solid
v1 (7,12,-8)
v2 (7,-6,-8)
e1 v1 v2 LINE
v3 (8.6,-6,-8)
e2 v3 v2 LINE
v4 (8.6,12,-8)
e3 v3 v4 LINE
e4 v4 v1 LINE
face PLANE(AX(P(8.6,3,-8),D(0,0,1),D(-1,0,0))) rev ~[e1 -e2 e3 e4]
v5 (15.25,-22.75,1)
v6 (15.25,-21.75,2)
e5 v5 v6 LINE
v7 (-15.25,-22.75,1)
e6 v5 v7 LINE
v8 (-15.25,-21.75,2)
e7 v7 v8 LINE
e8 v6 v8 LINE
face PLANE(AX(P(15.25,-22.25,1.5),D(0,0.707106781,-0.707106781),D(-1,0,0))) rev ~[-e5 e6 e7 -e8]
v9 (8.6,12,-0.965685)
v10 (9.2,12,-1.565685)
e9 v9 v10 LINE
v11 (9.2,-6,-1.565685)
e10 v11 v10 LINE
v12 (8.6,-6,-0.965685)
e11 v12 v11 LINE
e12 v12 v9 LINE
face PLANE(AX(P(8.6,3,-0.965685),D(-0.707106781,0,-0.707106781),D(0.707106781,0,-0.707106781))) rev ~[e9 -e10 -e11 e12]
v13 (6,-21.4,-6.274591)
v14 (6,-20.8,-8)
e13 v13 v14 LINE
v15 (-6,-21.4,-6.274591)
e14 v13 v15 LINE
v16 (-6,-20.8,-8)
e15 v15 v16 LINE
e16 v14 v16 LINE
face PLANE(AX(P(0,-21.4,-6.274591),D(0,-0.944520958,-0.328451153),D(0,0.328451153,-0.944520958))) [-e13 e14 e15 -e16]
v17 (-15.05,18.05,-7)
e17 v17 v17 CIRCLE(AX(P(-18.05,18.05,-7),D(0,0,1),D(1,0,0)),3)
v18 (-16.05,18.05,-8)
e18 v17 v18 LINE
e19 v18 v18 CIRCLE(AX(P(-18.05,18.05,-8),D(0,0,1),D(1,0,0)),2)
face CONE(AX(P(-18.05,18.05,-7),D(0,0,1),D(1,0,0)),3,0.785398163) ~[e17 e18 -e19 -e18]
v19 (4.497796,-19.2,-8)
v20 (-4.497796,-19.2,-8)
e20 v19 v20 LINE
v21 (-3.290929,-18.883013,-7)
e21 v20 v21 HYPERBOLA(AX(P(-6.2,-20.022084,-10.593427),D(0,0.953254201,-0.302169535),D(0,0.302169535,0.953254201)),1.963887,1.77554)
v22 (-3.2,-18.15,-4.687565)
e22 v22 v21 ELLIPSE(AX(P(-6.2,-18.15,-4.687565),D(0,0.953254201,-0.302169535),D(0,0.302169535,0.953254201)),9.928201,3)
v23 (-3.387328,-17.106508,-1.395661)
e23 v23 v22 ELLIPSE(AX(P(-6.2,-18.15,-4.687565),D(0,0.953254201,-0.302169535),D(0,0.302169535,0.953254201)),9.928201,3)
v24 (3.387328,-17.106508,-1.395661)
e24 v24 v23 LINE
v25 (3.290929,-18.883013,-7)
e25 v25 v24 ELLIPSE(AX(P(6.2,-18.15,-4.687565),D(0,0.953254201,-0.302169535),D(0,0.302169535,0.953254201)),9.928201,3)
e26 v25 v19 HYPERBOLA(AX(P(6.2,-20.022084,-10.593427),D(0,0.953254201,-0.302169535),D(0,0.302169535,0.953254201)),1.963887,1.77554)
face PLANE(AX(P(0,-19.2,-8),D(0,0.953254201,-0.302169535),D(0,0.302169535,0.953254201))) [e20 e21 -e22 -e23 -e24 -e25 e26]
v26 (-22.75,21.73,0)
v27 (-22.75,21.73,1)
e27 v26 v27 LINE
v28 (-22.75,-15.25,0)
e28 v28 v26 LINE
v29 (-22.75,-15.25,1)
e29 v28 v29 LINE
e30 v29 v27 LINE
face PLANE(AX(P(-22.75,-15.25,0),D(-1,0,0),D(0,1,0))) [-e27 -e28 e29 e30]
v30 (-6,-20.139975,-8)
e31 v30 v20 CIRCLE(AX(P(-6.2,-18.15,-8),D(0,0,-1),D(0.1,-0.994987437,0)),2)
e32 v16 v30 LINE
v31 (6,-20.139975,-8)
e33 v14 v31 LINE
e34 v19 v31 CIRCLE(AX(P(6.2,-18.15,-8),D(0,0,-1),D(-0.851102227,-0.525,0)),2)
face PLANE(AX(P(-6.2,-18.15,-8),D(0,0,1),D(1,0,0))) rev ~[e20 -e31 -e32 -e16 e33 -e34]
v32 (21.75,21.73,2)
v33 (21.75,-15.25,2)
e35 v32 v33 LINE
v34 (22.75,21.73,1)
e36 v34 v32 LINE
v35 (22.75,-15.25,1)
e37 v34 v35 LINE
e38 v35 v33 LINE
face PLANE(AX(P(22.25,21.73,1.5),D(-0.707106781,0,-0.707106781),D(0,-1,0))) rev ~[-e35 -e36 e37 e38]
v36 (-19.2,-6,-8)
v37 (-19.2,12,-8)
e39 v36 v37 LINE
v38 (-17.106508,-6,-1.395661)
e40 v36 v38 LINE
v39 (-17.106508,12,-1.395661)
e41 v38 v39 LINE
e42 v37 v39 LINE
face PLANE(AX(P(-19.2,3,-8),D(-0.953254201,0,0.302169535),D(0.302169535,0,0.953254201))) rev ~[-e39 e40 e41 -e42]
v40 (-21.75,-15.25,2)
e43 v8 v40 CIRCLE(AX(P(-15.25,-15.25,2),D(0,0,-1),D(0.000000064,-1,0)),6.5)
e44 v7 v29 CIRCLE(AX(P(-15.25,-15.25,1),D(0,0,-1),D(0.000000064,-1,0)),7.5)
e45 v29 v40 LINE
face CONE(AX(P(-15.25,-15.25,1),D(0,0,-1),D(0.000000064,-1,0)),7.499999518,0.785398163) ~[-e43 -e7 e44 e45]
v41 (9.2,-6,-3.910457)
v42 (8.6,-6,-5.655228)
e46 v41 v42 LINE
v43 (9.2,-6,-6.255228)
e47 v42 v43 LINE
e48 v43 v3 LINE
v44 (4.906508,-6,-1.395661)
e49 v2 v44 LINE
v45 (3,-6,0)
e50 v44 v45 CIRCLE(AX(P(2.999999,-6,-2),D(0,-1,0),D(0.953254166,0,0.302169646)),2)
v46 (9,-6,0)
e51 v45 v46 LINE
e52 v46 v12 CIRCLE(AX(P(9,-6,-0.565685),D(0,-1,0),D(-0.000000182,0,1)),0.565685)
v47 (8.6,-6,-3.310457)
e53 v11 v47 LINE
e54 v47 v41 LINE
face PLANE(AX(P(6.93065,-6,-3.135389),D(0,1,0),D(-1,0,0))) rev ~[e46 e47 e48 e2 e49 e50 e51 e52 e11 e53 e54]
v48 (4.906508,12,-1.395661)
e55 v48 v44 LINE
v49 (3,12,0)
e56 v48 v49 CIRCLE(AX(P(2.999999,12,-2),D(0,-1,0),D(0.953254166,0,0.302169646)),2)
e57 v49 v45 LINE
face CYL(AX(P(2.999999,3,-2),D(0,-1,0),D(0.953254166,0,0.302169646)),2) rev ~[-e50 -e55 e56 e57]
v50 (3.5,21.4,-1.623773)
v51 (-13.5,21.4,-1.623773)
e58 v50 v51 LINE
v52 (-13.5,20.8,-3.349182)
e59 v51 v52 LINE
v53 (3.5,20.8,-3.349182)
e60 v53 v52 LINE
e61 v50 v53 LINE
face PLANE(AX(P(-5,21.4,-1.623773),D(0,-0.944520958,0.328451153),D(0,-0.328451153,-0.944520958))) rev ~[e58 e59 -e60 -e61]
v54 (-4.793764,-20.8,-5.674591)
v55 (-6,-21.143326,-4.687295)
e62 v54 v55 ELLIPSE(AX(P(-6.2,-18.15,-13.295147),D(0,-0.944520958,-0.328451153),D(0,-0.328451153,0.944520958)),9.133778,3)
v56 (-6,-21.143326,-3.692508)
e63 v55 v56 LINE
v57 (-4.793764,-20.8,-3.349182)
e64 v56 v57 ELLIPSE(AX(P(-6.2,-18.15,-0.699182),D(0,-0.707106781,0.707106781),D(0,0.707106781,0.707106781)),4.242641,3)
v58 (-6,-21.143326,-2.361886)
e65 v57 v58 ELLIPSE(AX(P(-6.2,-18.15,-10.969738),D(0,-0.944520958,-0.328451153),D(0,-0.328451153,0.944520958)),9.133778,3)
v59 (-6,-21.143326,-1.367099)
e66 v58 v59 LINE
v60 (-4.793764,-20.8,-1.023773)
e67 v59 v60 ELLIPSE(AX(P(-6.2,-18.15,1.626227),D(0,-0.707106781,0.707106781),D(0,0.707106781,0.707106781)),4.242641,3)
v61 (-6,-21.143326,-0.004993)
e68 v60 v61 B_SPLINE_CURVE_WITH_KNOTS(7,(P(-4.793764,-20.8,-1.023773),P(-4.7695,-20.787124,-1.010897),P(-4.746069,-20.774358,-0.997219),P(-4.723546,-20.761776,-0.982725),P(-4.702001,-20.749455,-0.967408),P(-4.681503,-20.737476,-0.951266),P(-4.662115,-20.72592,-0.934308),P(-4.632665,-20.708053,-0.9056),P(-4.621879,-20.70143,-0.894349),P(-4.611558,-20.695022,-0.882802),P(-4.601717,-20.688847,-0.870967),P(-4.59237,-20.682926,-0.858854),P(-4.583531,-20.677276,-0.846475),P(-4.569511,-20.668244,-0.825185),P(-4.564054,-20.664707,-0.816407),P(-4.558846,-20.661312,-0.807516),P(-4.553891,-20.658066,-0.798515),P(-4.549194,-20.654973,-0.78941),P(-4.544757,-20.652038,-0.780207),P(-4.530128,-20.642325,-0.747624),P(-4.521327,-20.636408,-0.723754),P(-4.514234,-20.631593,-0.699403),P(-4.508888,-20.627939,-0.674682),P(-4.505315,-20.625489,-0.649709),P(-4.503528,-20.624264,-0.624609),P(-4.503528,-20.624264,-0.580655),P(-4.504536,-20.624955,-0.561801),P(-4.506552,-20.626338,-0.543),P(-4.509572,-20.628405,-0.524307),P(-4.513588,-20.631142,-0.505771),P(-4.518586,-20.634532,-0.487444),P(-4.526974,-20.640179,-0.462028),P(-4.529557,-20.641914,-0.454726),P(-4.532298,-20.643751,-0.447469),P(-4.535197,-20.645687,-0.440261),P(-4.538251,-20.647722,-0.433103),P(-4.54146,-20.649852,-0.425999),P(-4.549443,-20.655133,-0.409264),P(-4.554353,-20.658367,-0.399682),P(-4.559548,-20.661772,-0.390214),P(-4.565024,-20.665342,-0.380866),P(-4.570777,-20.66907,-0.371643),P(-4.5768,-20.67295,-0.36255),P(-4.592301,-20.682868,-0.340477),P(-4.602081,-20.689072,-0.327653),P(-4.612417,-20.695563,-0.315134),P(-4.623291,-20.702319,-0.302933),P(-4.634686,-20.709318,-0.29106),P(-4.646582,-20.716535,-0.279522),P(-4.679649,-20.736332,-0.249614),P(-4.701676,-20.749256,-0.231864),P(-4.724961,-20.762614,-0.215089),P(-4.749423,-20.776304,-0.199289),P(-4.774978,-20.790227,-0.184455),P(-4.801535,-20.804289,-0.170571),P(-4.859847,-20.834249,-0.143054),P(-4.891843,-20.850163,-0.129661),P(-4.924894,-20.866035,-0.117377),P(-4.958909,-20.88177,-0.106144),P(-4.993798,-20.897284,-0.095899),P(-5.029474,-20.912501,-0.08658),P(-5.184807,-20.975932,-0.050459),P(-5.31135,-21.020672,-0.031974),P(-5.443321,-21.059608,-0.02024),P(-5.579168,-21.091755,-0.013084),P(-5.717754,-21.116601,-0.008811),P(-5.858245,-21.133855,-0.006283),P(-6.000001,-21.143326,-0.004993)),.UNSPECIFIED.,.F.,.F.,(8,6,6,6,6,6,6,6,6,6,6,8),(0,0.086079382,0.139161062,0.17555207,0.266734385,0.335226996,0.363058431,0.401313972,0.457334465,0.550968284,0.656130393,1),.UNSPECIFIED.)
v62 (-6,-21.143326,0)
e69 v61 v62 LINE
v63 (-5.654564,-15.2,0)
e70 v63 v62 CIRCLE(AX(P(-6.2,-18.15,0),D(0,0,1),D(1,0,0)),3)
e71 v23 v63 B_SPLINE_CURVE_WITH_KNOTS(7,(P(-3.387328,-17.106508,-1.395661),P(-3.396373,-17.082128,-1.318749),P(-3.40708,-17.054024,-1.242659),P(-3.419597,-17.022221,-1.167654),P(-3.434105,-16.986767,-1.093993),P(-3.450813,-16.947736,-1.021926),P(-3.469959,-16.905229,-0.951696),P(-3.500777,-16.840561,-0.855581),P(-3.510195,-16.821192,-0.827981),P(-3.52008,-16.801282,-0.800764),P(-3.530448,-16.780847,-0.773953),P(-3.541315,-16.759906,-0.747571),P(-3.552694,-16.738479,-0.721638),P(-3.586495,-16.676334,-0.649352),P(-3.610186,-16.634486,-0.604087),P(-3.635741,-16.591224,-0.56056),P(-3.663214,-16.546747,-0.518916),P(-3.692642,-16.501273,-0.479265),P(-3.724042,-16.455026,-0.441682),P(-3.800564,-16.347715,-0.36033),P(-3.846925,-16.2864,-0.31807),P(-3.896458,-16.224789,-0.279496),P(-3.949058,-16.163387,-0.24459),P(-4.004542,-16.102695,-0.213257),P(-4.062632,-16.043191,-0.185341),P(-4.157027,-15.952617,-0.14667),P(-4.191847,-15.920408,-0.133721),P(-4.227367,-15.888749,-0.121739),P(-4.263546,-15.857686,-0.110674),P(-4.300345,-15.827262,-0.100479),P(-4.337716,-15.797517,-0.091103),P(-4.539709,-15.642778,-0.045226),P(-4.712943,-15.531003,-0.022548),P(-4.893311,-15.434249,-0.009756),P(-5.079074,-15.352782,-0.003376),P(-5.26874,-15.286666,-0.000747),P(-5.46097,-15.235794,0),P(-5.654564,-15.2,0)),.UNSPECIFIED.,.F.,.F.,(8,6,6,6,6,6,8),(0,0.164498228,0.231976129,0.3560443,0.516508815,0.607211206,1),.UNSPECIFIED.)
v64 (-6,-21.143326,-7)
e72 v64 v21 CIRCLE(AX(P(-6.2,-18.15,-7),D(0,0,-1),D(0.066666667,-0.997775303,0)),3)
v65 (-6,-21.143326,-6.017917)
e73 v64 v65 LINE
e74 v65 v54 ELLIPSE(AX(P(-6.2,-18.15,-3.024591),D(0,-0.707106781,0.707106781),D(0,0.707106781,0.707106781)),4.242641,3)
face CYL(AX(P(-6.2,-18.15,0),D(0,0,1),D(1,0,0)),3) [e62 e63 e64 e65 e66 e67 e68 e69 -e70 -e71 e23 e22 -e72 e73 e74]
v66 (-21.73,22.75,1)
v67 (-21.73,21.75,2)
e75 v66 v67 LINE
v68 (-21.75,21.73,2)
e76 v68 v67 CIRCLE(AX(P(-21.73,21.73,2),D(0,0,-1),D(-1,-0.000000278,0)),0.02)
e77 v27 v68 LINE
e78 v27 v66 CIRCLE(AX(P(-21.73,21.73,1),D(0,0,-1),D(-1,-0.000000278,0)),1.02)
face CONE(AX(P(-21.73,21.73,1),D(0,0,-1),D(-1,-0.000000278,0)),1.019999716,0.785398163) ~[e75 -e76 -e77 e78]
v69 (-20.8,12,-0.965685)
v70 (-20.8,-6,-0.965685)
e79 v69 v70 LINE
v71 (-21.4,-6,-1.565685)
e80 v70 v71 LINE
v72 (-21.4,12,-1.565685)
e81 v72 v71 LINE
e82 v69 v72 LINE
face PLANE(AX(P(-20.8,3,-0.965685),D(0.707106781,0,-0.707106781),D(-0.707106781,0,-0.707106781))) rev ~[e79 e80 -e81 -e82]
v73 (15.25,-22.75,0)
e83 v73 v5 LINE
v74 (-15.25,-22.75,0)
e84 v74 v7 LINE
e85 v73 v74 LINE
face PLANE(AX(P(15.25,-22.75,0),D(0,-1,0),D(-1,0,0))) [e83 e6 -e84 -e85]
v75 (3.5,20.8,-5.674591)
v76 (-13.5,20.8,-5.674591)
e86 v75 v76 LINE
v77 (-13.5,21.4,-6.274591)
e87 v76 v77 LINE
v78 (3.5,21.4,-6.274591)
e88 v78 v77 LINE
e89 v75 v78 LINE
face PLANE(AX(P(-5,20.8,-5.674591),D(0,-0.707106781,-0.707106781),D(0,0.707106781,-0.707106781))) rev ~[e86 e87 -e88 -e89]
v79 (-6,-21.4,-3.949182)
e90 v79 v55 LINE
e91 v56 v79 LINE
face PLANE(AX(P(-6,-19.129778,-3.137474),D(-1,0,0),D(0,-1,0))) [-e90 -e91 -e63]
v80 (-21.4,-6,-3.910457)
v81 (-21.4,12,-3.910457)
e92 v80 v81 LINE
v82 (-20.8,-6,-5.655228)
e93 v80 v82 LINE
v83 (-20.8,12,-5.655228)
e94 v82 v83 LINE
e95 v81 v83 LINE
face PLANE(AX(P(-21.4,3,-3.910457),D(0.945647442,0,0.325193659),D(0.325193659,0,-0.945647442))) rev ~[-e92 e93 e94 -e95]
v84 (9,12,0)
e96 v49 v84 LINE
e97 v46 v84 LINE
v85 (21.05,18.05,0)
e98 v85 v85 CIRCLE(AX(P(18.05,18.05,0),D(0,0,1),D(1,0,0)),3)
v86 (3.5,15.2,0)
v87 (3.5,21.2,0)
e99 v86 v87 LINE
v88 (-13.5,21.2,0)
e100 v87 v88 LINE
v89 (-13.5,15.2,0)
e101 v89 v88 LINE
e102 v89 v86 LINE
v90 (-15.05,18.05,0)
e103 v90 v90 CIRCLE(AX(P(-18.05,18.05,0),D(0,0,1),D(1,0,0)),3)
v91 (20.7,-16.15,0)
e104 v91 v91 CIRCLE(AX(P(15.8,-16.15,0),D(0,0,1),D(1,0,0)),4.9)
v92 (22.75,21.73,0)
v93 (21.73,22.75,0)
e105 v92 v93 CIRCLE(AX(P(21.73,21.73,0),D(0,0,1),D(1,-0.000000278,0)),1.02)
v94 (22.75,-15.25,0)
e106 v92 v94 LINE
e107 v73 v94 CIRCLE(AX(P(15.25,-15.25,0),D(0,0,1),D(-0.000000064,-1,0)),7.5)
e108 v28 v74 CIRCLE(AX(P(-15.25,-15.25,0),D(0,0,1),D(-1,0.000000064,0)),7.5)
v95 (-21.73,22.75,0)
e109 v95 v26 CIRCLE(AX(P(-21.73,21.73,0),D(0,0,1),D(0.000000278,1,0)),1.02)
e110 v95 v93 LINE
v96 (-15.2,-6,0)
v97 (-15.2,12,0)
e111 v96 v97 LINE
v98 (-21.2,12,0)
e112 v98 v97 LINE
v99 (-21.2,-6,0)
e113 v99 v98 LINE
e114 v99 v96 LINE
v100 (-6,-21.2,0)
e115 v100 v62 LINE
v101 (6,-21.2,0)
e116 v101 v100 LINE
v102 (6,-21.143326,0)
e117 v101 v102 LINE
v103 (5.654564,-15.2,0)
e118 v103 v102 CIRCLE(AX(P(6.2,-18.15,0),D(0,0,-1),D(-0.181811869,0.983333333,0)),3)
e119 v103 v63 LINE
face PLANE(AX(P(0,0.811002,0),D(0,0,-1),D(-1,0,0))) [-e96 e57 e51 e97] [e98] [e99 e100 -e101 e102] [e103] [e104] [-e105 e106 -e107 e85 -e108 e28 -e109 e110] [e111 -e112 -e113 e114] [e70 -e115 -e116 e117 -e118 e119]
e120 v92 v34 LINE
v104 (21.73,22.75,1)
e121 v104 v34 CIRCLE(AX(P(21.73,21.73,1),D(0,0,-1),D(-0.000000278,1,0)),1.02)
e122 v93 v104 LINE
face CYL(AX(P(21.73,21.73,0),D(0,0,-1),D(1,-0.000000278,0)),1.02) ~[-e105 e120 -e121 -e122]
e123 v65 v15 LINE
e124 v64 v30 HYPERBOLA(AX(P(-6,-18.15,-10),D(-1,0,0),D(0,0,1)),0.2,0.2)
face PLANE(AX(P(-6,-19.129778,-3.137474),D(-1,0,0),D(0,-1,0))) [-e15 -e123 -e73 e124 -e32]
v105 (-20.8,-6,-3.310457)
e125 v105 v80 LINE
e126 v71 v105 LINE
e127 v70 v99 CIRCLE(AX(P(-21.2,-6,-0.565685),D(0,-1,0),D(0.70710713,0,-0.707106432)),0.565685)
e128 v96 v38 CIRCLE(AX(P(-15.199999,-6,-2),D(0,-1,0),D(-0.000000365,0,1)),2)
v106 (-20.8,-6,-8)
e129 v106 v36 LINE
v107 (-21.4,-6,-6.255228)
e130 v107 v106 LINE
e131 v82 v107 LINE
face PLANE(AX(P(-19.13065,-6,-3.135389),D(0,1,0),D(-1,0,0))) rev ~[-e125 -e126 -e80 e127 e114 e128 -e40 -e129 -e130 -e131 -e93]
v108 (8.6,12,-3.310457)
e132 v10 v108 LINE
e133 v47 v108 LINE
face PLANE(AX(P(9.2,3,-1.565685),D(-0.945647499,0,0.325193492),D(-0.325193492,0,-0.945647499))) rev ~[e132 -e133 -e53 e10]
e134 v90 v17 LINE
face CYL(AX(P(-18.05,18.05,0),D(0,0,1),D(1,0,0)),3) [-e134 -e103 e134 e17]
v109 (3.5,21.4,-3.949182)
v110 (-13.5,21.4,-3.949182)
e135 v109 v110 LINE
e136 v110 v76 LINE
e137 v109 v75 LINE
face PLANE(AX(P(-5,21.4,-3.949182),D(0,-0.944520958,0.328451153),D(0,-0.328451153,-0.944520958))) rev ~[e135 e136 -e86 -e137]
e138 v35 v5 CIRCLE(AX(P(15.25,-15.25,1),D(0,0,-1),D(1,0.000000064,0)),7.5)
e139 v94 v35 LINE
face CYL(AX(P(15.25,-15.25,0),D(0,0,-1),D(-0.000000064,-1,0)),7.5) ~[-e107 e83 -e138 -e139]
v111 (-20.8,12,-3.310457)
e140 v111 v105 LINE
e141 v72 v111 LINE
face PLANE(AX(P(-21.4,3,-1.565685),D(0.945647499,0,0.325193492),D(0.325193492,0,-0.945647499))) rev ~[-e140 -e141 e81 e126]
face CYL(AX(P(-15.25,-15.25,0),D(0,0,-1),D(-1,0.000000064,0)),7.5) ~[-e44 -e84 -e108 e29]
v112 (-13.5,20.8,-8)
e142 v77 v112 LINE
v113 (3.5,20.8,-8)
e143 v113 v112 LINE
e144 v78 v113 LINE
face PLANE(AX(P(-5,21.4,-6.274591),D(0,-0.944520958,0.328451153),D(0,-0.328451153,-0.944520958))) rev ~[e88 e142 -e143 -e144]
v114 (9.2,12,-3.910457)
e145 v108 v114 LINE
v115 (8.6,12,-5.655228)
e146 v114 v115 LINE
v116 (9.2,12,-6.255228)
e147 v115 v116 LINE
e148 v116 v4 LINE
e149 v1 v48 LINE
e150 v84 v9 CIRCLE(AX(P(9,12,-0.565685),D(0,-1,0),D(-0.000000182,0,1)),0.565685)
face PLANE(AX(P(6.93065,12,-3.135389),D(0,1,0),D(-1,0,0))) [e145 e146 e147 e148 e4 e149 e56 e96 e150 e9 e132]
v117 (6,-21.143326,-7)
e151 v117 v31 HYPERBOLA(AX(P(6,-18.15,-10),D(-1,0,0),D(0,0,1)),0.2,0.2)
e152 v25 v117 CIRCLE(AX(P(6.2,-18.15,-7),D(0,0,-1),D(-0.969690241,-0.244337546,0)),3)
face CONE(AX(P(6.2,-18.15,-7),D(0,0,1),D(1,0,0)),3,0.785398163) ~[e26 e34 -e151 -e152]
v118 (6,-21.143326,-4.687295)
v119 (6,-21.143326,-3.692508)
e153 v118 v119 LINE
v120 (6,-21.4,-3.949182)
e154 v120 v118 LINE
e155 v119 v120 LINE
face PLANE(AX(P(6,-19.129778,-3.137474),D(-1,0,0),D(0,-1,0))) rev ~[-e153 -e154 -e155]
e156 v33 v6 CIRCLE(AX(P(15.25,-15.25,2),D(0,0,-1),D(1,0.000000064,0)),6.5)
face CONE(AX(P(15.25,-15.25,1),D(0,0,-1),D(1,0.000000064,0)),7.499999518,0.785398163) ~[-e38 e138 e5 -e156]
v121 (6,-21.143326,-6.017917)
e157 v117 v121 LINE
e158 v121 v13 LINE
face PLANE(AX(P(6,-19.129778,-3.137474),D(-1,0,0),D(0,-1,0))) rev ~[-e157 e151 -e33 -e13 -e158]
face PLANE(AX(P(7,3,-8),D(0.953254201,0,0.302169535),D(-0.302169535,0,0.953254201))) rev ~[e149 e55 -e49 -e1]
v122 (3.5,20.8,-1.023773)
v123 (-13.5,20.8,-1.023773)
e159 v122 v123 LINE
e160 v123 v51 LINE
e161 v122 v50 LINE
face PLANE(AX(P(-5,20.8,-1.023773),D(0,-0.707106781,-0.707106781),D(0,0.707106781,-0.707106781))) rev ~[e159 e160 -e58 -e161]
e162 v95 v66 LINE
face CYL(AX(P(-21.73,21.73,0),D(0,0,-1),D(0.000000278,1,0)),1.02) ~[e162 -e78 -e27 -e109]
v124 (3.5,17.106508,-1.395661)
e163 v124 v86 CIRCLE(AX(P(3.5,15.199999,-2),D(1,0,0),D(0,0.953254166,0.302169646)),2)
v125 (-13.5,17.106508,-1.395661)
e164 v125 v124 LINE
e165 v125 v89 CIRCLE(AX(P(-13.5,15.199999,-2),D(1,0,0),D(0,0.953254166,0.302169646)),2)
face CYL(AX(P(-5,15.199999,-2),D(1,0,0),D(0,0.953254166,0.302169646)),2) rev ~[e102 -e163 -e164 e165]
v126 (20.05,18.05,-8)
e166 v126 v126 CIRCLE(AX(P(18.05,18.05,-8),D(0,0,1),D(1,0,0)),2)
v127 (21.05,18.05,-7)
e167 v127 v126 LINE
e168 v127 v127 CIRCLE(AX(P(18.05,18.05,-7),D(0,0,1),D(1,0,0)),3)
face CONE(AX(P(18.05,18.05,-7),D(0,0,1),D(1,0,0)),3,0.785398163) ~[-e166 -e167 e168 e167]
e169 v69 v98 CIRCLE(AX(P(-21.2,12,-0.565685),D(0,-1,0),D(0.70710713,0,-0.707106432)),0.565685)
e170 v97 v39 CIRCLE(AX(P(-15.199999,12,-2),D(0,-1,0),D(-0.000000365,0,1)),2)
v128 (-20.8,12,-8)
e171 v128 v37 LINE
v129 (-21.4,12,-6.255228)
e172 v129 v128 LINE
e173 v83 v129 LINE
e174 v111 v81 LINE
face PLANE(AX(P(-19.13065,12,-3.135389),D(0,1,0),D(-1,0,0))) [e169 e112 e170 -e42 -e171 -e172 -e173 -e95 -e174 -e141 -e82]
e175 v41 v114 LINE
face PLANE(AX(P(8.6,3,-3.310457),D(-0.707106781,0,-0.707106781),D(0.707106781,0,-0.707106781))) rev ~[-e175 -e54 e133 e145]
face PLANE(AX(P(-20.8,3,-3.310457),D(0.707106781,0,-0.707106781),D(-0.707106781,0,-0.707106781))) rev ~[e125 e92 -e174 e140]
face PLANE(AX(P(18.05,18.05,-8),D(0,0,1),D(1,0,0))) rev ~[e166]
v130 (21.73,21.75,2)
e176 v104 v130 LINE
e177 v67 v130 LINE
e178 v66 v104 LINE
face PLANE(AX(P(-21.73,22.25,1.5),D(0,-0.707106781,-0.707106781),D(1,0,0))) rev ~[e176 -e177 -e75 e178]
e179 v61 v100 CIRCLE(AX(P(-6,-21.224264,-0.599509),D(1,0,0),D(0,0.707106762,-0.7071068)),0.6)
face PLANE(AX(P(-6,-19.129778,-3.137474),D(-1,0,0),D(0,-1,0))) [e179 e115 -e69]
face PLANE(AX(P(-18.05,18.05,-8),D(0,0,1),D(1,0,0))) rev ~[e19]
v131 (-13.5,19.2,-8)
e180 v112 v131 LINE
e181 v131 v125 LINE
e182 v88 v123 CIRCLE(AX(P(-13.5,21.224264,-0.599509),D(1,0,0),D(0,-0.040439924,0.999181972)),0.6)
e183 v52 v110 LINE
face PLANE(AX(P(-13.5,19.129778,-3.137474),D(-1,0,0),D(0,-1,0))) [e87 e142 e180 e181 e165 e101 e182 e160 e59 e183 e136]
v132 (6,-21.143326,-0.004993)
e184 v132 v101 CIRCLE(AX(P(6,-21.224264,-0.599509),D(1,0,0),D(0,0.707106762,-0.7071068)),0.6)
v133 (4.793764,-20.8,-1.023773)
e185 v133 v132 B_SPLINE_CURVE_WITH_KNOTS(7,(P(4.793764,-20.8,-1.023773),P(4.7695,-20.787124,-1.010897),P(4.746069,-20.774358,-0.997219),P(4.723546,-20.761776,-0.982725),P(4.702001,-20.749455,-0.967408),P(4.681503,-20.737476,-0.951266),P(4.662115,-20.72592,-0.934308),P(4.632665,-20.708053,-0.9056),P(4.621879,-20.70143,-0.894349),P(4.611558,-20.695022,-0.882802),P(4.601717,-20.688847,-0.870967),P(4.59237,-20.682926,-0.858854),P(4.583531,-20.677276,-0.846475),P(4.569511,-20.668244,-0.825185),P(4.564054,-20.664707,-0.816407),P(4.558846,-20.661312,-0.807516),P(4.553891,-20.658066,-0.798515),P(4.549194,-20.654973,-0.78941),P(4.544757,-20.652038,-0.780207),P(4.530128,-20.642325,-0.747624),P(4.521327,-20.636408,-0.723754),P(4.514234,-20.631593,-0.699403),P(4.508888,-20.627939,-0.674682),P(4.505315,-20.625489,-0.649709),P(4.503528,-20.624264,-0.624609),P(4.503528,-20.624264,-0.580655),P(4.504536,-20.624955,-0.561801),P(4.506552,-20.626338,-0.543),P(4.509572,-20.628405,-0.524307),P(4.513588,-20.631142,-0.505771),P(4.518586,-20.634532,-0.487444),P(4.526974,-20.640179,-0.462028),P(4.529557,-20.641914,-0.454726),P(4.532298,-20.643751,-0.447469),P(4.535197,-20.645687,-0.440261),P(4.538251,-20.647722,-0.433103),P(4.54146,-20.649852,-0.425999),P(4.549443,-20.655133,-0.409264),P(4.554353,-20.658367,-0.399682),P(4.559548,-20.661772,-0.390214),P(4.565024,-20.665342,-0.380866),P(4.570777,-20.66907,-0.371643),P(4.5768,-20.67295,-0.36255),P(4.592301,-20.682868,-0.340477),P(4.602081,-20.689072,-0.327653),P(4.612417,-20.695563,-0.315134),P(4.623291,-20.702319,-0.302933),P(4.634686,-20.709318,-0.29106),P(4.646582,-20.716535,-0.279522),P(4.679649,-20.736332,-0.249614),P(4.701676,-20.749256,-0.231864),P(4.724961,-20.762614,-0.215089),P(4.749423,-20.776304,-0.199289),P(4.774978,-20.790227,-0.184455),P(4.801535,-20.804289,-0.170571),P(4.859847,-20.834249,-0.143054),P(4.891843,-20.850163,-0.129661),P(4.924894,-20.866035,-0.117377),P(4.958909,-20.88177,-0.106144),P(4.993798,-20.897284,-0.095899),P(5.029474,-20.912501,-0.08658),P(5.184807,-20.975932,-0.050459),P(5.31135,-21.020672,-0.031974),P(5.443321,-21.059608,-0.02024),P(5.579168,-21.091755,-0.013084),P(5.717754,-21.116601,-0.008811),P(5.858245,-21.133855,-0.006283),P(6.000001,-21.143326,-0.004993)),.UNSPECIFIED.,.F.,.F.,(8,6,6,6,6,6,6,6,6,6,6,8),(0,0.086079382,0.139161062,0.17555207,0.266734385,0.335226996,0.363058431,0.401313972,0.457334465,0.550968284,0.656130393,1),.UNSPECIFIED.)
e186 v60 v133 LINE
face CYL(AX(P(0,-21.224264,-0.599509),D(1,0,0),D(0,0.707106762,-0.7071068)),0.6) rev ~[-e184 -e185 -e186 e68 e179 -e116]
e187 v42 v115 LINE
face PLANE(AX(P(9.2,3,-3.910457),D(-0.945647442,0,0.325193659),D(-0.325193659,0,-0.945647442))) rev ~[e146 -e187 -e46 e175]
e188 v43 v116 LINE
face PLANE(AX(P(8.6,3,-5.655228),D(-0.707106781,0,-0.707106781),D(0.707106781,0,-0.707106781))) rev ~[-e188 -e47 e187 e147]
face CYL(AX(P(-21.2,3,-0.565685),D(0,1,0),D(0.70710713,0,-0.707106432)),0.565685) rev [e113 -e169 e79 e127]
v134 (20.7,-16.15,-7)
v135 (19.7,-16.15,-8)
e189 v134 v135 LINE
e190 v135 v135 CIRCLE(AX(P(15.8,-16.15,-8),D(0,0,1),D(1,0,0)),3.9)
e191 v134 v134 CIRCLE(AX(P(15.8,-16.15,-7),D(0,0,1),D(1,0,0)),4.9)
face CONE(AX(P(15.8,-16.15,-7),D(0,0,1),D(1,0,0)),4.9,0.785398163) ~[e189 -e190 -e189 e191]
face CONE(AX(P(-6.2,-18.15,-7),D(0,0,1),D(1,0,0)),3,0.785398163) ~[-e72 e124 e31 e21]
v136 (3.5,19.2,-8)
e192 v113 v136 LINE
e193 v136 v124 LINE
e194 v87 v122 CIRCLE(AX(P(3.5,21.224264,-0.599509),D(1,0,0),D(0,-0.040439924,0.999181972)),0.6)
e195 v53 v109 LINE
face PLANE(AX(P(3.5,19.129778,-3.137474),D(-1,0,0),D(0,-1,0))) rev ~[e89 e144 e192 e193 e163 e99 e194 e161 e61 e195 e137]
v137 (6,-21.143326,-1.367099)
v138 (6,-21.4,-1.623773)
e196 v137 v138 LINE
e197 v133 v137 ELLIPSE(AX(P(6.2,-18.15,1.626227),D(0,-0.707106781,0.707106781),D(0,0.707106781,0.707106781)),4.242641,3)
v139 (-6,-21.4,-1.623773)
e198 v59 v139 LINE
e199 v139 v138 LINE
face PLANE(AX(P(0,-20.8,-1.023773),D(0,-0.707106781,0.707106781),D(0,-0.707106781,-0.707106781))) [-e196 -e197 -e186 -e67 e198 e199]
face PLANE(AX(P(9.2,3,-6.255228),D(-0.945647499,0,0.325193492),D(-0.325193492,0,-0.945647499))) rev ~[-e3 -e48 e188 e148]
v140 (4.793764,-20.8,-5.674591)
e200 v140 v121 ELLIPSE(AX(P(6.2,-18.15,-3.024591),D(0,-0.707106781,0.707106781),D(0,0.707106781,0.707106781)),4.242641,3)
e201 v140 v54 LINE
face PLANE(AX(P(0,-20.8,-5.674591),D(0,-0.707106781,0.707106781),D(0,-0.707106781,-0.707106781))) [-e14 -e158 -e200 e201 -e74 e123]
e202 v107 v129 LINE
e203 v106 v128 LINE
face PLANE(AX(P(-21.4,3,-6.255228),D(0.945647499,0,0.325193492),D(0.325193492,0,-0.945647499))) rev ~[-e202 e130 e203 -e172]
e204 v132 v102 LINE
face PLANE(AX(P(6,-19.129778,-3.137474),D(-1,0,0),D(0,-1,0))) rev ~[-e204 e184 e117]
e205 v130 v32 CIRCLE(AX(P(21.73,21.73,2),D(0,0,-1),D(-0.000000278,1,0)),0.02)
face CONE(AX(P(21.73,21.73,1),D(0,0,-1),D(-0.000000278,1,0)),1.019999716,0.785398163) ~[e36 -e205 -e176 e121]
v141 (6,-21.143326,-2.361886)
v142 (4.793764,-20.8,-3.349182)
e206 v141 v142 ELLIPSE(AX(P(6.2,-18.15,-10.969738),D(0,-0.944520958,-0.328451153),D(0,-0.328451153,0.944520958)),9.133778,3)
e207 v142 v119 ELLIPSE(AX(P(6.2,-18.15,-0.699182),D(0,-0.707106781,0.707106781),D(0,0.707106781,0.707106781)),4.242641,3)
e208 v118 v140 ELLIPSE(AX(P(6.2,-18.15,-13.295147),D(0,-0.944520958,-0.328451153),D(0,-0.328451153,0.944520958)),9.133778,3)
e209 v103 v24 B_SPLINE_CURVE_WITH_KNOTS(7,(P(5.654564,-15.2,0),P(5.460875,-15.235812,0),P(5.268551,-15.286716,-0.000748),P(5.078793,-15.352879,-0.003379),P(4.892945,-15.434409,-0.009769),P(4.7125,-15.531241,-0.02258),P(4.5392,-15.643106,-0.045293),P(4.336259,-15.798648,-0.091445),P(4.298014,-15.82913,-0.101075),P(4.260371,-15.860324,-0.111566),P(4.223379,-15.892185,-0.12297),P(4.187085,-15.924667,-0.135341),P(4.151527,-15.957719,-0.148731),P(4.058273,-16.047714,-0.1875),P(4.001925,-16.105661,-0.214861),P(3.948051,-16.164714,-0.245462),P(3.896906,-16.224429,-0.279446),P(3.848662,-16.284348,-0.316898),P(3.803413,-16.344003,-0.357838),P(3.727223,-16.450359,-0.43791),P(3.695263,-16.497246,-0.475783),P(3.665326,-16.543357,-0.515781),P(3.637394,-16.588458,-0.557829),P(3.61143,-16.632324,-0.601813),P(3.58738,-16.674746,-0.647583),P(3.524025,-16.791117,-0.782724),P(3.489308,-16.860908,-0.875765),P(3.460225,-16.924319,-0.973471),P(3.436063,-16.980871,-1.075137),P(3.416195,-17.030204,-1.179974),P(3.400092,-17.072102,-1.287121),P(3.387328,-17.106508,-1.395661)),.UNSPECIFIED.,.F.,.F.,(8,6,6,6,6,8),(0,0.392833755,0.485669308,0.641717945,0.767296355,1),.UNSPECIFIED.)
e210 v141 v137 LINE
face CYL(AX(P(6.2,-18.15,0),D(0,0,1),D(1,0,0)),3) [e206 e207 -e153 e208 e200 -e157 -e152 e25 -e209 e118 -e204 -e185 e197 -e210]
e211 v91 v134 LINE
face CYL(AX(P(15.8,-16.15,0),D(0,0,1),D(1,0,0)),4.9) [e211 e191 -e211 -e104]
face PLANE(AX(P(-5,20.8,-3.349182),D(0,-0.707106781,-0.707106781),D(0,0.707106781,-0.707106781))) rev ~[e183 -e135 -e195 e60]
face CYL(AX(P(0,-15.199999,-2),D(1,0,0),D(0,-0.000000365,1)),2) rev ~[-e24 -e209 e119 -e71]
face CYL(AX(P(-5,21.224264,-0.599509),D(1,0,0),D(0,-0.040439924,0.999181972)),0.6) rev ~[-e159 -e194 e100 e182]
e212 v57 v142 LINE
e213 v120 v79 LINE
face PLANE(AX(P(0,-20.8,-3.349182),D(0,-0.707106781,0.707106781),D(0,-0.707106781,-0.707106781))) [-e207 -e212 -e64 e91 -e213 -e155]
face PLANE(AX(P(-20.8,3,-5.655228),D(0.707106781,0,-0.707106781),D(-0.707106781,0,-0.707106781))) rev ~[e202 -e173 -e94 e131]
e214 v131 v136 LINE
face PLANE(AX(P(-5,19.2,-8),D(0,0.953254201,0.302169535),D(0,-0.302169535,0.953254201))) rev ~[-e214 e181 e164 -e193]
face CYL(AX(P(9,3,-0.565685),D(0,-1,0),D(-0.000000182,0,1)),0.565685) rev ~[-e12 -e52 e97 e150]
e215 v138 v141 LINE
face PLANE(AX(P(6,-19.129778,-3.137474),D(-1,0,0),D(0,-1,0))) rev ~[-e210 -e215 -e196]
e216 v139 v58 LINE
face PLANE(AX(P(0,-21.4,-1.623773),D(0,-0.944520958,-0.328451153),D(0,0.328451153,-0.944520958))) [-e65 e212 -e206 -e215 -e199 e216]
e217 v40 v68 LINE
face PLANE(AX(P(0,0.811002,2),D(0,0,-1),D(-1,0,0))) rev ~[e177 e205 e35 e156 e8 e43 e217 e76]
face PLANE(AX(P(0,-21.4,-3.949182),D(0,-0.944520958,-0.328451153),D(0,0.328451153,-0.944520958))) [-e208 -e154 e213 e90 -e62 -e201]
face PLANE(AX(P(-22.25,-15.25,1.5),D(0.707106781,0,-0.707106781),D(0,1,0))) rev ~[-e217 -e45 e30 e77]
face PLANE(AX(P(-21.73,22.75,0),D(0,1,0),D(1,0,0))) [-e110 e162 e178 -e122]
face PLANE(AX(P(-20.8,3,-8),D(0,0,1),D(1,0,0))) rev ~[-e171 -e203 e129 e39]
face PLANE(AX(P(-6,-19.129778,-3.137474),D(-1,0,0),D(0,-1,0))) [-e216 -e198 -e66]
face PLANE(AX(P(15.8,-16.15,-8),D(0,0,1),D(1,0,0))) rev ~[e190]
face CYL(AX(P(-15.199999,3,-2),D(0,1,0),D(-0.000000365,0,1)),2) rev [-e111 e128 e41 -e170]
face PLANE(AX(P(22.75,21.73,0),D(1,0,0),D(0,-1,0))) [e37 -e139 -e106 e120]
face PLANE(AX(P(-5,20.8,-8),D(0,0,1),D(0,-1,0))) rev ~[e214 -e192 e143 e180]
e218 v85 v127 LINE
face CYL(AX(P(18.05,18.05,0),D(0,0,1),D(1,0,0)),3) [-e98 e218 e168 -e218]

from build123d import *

# Parameters (mm, degrees)
PAD001_DEPTH    = 2
SKETCH002_R     = 3
SKETCH002_R_2   = 4.9
PAD002_DEPTH    = 8
CHAMFER_SIZE    = 1
CHAMFER001_SIZE = 1
PAD003_DEPTH    = 9
PAD004_DEPTH    = 6
PAD005_DEPTH    = 8.5


with BuildPart() as part:
    # Sketch001 → Pad001 (new body)
    with BuildSketch(Plane.XY):
        with BuildLine():
            Line((-21.73, 22.75), (21.73, 22.75))
            ThreePointArc((22.75, 21.73), (22.451249, 22.451249), (21.73, 22.75))
            Line((22.75, 21.73), (22.75, -15.25))
            ThreePointArc((15.25, -22.75), (20.553301, -20.553301), (22.75, -15.25))
            Line((15.25, -22.75), (-15.25, -22.75))
            ThreePointArc((-22.75, -15.25), (-20.553301, -20.553301), (-15.25, -22.75))
            Line((-22.75, -15.25), (-22.75, 21.73))
            ThreePointArc((-21.73, 22.75), (-22.451249, 22.451249), (-22.75, 21.73))
        make_face()
    extrude(amount=PAD001_DEPTH)

    # Sketch002 → Pad002 (join)
    with BuildSketch(Plane.XY):
        with Locations((-18.05, 18.05)):
            Circle(SKETCH002_R)
        with Locations((18.05, 18.05)):
            Circle(SKETCH002_R)
        with Locations((6.2, -18.15)):
            Circle(SKETCH002_R)
        with Locations((-6.2, -18.15)):
            Circle(SKETCH002_R)
        with Locations((15.8, -16.15)):
            Circle(SKETCH002_R_2)
    extrude(amount=-PAD002_DEPTH)

    # Chamfer
    chamfer_edges = [part.edges().sort_by_distance(p)[0] for p in [
        (15.05, 18.05, -8),
        (-21.05, 18.05, -8),
        (-9.2, -18.15, -8),
        (3.2, -18.15, -8),
        (10.9, -16.15, -8),
    ]]
    chamfer(chamfer_edges, length=CHAMFER_SIZE)

    # Chamfer001
    chamfer001_edges = [part.edges().sort_by_distance(p)[0] for p in [
        (0, -22.75, 2),
    ]]
    chamfer(chamfer001_edges, length=CHAMFER001_SIZE)

    # Sketch003 → Pad003 (join, symmetric)
    with BuildSketch(Plane.XZ.offset(-3)):
        with BuildLine():
            ThreePointArc((-20.8, -0.965685), (-20.677375, -0.349207), (-21.2, 0))
            Line((-21.2, 0), (-15.2, 0))
            ThreePointArc((-15.2, 0), (-16.381381, -0.386204), (-17.106508, -1.395661))
            Line((-19.2, -8), (-17.106508, -1.395661))
            Line((-20.8, -8), (-19.2, -8))
            Line((-21.4, -6.255228), (-20.8, -8))
            Line((-20.8, -5.655228), (-21.4, -6.255228))
            Line((-21.4, -3.910457), (-20.8, -5.655228))
            Line((-20.8, -3.310457), (-21.4, -3.910457))
            Line((-21.4, -1.565685), (-20.8, -3.310457))
            Line((-20.8, -0.965685), (-21.4, -1.565685))
        make_face()
        with BuildLine():
            Line((3, 0), (9, 0))
            ThreePointArc((9, 0), (8.477375, -0.349207), (8.6, -0.965685))
            Line((8.6, -0.965685), (9.2, -1.565685))
            Line((9.2, -1.565685), (8.6, -3.310457))
            Line((8.6, -3.310457), (9.2, -3.910457))
            Line((9.2, -3.910457), (8.6, -5.655228))
            Line((8.6, -5.655228), (9.2, -6.255228))
            Line((9.2, -6.255228), (8.6, -8))
            Line((8.6, -8), (7, -8))
            Line((7, -8), (4.906508, -1.395661))
            ThreePointArc((4.906508, -1.395661), (4.181381, -0.386204), (3, 0))
        make_face()
    extrude(amount=PAD003_DEPTH, both=True)

    # Sketch004 → Pad004 (join, symmetric)
    with BuildSketch(Plane.YZ):
        with BuildLine():
            ThreePointArc((-20.8, -1.023773), (-20.665406, -0.381157), (-21.2, 0))
            Line((-21.2, 0), (-15.2, 0))
            ThreePointArc((-15.2, 0), (-16.381381, -0.386204), (-17.106508, -1.395661))
            Line((-19.2, -8), (-17.106508, -1.395661))
            Line((-20.8, -8), (-19.2, -8))
            Line((-21.4, -6.274591), (-20.8, -8))
            Line((-20.8, -5.674591), (-21.4, -6.274591))
            Line((-21.4, -3.949182), (-20.8, -5.674591))
            Line((-20.8, -3.349182), (-21.4, -3.949182))
            Line((-21.4, -1.623773), (-20.8, -3.349182))
            Line((-20.8, -1.023773), (-21.4, -1.623773))
        make_face()
    extrude(amount=PAD004_DEPTH, both=True)

    # Sketch005 → Pad005 (join, symmetric)
    with BuildSketch(Plane.YZ.offset(-5)):
        with BuildLine():
            Line((15.2, 0), (21.2, 0))
            ThreePointArc((21.2, 0), (20.665406, -0.381157), (20.8, -1.023773))
            Line((20.8, -1.023773), (21.4, -1.623773))
            Line((21.4, -1.623773), (20.8, -3.349182))
            Line((20.8, -3.349182), (21.4, -3.949182))
            Line((21.4, -3.949182), (20.8, -5.674591))
            Line((20.8, -5.674591), (21.4, -6.274591))
            Line((21.4, -6.274591), (20.8, -8))
            Line((20.8, -8), (19.2, -8))
            Line((19.2, -8), (17.106508, -1.395661))
            ThreePointArc((17.106508, -1.395661), (16.381381, -0.386204), (15.2, 0))
        make_face()
    extrude(amount=PAD005_DEPTH, both=True)


solid = part.part
